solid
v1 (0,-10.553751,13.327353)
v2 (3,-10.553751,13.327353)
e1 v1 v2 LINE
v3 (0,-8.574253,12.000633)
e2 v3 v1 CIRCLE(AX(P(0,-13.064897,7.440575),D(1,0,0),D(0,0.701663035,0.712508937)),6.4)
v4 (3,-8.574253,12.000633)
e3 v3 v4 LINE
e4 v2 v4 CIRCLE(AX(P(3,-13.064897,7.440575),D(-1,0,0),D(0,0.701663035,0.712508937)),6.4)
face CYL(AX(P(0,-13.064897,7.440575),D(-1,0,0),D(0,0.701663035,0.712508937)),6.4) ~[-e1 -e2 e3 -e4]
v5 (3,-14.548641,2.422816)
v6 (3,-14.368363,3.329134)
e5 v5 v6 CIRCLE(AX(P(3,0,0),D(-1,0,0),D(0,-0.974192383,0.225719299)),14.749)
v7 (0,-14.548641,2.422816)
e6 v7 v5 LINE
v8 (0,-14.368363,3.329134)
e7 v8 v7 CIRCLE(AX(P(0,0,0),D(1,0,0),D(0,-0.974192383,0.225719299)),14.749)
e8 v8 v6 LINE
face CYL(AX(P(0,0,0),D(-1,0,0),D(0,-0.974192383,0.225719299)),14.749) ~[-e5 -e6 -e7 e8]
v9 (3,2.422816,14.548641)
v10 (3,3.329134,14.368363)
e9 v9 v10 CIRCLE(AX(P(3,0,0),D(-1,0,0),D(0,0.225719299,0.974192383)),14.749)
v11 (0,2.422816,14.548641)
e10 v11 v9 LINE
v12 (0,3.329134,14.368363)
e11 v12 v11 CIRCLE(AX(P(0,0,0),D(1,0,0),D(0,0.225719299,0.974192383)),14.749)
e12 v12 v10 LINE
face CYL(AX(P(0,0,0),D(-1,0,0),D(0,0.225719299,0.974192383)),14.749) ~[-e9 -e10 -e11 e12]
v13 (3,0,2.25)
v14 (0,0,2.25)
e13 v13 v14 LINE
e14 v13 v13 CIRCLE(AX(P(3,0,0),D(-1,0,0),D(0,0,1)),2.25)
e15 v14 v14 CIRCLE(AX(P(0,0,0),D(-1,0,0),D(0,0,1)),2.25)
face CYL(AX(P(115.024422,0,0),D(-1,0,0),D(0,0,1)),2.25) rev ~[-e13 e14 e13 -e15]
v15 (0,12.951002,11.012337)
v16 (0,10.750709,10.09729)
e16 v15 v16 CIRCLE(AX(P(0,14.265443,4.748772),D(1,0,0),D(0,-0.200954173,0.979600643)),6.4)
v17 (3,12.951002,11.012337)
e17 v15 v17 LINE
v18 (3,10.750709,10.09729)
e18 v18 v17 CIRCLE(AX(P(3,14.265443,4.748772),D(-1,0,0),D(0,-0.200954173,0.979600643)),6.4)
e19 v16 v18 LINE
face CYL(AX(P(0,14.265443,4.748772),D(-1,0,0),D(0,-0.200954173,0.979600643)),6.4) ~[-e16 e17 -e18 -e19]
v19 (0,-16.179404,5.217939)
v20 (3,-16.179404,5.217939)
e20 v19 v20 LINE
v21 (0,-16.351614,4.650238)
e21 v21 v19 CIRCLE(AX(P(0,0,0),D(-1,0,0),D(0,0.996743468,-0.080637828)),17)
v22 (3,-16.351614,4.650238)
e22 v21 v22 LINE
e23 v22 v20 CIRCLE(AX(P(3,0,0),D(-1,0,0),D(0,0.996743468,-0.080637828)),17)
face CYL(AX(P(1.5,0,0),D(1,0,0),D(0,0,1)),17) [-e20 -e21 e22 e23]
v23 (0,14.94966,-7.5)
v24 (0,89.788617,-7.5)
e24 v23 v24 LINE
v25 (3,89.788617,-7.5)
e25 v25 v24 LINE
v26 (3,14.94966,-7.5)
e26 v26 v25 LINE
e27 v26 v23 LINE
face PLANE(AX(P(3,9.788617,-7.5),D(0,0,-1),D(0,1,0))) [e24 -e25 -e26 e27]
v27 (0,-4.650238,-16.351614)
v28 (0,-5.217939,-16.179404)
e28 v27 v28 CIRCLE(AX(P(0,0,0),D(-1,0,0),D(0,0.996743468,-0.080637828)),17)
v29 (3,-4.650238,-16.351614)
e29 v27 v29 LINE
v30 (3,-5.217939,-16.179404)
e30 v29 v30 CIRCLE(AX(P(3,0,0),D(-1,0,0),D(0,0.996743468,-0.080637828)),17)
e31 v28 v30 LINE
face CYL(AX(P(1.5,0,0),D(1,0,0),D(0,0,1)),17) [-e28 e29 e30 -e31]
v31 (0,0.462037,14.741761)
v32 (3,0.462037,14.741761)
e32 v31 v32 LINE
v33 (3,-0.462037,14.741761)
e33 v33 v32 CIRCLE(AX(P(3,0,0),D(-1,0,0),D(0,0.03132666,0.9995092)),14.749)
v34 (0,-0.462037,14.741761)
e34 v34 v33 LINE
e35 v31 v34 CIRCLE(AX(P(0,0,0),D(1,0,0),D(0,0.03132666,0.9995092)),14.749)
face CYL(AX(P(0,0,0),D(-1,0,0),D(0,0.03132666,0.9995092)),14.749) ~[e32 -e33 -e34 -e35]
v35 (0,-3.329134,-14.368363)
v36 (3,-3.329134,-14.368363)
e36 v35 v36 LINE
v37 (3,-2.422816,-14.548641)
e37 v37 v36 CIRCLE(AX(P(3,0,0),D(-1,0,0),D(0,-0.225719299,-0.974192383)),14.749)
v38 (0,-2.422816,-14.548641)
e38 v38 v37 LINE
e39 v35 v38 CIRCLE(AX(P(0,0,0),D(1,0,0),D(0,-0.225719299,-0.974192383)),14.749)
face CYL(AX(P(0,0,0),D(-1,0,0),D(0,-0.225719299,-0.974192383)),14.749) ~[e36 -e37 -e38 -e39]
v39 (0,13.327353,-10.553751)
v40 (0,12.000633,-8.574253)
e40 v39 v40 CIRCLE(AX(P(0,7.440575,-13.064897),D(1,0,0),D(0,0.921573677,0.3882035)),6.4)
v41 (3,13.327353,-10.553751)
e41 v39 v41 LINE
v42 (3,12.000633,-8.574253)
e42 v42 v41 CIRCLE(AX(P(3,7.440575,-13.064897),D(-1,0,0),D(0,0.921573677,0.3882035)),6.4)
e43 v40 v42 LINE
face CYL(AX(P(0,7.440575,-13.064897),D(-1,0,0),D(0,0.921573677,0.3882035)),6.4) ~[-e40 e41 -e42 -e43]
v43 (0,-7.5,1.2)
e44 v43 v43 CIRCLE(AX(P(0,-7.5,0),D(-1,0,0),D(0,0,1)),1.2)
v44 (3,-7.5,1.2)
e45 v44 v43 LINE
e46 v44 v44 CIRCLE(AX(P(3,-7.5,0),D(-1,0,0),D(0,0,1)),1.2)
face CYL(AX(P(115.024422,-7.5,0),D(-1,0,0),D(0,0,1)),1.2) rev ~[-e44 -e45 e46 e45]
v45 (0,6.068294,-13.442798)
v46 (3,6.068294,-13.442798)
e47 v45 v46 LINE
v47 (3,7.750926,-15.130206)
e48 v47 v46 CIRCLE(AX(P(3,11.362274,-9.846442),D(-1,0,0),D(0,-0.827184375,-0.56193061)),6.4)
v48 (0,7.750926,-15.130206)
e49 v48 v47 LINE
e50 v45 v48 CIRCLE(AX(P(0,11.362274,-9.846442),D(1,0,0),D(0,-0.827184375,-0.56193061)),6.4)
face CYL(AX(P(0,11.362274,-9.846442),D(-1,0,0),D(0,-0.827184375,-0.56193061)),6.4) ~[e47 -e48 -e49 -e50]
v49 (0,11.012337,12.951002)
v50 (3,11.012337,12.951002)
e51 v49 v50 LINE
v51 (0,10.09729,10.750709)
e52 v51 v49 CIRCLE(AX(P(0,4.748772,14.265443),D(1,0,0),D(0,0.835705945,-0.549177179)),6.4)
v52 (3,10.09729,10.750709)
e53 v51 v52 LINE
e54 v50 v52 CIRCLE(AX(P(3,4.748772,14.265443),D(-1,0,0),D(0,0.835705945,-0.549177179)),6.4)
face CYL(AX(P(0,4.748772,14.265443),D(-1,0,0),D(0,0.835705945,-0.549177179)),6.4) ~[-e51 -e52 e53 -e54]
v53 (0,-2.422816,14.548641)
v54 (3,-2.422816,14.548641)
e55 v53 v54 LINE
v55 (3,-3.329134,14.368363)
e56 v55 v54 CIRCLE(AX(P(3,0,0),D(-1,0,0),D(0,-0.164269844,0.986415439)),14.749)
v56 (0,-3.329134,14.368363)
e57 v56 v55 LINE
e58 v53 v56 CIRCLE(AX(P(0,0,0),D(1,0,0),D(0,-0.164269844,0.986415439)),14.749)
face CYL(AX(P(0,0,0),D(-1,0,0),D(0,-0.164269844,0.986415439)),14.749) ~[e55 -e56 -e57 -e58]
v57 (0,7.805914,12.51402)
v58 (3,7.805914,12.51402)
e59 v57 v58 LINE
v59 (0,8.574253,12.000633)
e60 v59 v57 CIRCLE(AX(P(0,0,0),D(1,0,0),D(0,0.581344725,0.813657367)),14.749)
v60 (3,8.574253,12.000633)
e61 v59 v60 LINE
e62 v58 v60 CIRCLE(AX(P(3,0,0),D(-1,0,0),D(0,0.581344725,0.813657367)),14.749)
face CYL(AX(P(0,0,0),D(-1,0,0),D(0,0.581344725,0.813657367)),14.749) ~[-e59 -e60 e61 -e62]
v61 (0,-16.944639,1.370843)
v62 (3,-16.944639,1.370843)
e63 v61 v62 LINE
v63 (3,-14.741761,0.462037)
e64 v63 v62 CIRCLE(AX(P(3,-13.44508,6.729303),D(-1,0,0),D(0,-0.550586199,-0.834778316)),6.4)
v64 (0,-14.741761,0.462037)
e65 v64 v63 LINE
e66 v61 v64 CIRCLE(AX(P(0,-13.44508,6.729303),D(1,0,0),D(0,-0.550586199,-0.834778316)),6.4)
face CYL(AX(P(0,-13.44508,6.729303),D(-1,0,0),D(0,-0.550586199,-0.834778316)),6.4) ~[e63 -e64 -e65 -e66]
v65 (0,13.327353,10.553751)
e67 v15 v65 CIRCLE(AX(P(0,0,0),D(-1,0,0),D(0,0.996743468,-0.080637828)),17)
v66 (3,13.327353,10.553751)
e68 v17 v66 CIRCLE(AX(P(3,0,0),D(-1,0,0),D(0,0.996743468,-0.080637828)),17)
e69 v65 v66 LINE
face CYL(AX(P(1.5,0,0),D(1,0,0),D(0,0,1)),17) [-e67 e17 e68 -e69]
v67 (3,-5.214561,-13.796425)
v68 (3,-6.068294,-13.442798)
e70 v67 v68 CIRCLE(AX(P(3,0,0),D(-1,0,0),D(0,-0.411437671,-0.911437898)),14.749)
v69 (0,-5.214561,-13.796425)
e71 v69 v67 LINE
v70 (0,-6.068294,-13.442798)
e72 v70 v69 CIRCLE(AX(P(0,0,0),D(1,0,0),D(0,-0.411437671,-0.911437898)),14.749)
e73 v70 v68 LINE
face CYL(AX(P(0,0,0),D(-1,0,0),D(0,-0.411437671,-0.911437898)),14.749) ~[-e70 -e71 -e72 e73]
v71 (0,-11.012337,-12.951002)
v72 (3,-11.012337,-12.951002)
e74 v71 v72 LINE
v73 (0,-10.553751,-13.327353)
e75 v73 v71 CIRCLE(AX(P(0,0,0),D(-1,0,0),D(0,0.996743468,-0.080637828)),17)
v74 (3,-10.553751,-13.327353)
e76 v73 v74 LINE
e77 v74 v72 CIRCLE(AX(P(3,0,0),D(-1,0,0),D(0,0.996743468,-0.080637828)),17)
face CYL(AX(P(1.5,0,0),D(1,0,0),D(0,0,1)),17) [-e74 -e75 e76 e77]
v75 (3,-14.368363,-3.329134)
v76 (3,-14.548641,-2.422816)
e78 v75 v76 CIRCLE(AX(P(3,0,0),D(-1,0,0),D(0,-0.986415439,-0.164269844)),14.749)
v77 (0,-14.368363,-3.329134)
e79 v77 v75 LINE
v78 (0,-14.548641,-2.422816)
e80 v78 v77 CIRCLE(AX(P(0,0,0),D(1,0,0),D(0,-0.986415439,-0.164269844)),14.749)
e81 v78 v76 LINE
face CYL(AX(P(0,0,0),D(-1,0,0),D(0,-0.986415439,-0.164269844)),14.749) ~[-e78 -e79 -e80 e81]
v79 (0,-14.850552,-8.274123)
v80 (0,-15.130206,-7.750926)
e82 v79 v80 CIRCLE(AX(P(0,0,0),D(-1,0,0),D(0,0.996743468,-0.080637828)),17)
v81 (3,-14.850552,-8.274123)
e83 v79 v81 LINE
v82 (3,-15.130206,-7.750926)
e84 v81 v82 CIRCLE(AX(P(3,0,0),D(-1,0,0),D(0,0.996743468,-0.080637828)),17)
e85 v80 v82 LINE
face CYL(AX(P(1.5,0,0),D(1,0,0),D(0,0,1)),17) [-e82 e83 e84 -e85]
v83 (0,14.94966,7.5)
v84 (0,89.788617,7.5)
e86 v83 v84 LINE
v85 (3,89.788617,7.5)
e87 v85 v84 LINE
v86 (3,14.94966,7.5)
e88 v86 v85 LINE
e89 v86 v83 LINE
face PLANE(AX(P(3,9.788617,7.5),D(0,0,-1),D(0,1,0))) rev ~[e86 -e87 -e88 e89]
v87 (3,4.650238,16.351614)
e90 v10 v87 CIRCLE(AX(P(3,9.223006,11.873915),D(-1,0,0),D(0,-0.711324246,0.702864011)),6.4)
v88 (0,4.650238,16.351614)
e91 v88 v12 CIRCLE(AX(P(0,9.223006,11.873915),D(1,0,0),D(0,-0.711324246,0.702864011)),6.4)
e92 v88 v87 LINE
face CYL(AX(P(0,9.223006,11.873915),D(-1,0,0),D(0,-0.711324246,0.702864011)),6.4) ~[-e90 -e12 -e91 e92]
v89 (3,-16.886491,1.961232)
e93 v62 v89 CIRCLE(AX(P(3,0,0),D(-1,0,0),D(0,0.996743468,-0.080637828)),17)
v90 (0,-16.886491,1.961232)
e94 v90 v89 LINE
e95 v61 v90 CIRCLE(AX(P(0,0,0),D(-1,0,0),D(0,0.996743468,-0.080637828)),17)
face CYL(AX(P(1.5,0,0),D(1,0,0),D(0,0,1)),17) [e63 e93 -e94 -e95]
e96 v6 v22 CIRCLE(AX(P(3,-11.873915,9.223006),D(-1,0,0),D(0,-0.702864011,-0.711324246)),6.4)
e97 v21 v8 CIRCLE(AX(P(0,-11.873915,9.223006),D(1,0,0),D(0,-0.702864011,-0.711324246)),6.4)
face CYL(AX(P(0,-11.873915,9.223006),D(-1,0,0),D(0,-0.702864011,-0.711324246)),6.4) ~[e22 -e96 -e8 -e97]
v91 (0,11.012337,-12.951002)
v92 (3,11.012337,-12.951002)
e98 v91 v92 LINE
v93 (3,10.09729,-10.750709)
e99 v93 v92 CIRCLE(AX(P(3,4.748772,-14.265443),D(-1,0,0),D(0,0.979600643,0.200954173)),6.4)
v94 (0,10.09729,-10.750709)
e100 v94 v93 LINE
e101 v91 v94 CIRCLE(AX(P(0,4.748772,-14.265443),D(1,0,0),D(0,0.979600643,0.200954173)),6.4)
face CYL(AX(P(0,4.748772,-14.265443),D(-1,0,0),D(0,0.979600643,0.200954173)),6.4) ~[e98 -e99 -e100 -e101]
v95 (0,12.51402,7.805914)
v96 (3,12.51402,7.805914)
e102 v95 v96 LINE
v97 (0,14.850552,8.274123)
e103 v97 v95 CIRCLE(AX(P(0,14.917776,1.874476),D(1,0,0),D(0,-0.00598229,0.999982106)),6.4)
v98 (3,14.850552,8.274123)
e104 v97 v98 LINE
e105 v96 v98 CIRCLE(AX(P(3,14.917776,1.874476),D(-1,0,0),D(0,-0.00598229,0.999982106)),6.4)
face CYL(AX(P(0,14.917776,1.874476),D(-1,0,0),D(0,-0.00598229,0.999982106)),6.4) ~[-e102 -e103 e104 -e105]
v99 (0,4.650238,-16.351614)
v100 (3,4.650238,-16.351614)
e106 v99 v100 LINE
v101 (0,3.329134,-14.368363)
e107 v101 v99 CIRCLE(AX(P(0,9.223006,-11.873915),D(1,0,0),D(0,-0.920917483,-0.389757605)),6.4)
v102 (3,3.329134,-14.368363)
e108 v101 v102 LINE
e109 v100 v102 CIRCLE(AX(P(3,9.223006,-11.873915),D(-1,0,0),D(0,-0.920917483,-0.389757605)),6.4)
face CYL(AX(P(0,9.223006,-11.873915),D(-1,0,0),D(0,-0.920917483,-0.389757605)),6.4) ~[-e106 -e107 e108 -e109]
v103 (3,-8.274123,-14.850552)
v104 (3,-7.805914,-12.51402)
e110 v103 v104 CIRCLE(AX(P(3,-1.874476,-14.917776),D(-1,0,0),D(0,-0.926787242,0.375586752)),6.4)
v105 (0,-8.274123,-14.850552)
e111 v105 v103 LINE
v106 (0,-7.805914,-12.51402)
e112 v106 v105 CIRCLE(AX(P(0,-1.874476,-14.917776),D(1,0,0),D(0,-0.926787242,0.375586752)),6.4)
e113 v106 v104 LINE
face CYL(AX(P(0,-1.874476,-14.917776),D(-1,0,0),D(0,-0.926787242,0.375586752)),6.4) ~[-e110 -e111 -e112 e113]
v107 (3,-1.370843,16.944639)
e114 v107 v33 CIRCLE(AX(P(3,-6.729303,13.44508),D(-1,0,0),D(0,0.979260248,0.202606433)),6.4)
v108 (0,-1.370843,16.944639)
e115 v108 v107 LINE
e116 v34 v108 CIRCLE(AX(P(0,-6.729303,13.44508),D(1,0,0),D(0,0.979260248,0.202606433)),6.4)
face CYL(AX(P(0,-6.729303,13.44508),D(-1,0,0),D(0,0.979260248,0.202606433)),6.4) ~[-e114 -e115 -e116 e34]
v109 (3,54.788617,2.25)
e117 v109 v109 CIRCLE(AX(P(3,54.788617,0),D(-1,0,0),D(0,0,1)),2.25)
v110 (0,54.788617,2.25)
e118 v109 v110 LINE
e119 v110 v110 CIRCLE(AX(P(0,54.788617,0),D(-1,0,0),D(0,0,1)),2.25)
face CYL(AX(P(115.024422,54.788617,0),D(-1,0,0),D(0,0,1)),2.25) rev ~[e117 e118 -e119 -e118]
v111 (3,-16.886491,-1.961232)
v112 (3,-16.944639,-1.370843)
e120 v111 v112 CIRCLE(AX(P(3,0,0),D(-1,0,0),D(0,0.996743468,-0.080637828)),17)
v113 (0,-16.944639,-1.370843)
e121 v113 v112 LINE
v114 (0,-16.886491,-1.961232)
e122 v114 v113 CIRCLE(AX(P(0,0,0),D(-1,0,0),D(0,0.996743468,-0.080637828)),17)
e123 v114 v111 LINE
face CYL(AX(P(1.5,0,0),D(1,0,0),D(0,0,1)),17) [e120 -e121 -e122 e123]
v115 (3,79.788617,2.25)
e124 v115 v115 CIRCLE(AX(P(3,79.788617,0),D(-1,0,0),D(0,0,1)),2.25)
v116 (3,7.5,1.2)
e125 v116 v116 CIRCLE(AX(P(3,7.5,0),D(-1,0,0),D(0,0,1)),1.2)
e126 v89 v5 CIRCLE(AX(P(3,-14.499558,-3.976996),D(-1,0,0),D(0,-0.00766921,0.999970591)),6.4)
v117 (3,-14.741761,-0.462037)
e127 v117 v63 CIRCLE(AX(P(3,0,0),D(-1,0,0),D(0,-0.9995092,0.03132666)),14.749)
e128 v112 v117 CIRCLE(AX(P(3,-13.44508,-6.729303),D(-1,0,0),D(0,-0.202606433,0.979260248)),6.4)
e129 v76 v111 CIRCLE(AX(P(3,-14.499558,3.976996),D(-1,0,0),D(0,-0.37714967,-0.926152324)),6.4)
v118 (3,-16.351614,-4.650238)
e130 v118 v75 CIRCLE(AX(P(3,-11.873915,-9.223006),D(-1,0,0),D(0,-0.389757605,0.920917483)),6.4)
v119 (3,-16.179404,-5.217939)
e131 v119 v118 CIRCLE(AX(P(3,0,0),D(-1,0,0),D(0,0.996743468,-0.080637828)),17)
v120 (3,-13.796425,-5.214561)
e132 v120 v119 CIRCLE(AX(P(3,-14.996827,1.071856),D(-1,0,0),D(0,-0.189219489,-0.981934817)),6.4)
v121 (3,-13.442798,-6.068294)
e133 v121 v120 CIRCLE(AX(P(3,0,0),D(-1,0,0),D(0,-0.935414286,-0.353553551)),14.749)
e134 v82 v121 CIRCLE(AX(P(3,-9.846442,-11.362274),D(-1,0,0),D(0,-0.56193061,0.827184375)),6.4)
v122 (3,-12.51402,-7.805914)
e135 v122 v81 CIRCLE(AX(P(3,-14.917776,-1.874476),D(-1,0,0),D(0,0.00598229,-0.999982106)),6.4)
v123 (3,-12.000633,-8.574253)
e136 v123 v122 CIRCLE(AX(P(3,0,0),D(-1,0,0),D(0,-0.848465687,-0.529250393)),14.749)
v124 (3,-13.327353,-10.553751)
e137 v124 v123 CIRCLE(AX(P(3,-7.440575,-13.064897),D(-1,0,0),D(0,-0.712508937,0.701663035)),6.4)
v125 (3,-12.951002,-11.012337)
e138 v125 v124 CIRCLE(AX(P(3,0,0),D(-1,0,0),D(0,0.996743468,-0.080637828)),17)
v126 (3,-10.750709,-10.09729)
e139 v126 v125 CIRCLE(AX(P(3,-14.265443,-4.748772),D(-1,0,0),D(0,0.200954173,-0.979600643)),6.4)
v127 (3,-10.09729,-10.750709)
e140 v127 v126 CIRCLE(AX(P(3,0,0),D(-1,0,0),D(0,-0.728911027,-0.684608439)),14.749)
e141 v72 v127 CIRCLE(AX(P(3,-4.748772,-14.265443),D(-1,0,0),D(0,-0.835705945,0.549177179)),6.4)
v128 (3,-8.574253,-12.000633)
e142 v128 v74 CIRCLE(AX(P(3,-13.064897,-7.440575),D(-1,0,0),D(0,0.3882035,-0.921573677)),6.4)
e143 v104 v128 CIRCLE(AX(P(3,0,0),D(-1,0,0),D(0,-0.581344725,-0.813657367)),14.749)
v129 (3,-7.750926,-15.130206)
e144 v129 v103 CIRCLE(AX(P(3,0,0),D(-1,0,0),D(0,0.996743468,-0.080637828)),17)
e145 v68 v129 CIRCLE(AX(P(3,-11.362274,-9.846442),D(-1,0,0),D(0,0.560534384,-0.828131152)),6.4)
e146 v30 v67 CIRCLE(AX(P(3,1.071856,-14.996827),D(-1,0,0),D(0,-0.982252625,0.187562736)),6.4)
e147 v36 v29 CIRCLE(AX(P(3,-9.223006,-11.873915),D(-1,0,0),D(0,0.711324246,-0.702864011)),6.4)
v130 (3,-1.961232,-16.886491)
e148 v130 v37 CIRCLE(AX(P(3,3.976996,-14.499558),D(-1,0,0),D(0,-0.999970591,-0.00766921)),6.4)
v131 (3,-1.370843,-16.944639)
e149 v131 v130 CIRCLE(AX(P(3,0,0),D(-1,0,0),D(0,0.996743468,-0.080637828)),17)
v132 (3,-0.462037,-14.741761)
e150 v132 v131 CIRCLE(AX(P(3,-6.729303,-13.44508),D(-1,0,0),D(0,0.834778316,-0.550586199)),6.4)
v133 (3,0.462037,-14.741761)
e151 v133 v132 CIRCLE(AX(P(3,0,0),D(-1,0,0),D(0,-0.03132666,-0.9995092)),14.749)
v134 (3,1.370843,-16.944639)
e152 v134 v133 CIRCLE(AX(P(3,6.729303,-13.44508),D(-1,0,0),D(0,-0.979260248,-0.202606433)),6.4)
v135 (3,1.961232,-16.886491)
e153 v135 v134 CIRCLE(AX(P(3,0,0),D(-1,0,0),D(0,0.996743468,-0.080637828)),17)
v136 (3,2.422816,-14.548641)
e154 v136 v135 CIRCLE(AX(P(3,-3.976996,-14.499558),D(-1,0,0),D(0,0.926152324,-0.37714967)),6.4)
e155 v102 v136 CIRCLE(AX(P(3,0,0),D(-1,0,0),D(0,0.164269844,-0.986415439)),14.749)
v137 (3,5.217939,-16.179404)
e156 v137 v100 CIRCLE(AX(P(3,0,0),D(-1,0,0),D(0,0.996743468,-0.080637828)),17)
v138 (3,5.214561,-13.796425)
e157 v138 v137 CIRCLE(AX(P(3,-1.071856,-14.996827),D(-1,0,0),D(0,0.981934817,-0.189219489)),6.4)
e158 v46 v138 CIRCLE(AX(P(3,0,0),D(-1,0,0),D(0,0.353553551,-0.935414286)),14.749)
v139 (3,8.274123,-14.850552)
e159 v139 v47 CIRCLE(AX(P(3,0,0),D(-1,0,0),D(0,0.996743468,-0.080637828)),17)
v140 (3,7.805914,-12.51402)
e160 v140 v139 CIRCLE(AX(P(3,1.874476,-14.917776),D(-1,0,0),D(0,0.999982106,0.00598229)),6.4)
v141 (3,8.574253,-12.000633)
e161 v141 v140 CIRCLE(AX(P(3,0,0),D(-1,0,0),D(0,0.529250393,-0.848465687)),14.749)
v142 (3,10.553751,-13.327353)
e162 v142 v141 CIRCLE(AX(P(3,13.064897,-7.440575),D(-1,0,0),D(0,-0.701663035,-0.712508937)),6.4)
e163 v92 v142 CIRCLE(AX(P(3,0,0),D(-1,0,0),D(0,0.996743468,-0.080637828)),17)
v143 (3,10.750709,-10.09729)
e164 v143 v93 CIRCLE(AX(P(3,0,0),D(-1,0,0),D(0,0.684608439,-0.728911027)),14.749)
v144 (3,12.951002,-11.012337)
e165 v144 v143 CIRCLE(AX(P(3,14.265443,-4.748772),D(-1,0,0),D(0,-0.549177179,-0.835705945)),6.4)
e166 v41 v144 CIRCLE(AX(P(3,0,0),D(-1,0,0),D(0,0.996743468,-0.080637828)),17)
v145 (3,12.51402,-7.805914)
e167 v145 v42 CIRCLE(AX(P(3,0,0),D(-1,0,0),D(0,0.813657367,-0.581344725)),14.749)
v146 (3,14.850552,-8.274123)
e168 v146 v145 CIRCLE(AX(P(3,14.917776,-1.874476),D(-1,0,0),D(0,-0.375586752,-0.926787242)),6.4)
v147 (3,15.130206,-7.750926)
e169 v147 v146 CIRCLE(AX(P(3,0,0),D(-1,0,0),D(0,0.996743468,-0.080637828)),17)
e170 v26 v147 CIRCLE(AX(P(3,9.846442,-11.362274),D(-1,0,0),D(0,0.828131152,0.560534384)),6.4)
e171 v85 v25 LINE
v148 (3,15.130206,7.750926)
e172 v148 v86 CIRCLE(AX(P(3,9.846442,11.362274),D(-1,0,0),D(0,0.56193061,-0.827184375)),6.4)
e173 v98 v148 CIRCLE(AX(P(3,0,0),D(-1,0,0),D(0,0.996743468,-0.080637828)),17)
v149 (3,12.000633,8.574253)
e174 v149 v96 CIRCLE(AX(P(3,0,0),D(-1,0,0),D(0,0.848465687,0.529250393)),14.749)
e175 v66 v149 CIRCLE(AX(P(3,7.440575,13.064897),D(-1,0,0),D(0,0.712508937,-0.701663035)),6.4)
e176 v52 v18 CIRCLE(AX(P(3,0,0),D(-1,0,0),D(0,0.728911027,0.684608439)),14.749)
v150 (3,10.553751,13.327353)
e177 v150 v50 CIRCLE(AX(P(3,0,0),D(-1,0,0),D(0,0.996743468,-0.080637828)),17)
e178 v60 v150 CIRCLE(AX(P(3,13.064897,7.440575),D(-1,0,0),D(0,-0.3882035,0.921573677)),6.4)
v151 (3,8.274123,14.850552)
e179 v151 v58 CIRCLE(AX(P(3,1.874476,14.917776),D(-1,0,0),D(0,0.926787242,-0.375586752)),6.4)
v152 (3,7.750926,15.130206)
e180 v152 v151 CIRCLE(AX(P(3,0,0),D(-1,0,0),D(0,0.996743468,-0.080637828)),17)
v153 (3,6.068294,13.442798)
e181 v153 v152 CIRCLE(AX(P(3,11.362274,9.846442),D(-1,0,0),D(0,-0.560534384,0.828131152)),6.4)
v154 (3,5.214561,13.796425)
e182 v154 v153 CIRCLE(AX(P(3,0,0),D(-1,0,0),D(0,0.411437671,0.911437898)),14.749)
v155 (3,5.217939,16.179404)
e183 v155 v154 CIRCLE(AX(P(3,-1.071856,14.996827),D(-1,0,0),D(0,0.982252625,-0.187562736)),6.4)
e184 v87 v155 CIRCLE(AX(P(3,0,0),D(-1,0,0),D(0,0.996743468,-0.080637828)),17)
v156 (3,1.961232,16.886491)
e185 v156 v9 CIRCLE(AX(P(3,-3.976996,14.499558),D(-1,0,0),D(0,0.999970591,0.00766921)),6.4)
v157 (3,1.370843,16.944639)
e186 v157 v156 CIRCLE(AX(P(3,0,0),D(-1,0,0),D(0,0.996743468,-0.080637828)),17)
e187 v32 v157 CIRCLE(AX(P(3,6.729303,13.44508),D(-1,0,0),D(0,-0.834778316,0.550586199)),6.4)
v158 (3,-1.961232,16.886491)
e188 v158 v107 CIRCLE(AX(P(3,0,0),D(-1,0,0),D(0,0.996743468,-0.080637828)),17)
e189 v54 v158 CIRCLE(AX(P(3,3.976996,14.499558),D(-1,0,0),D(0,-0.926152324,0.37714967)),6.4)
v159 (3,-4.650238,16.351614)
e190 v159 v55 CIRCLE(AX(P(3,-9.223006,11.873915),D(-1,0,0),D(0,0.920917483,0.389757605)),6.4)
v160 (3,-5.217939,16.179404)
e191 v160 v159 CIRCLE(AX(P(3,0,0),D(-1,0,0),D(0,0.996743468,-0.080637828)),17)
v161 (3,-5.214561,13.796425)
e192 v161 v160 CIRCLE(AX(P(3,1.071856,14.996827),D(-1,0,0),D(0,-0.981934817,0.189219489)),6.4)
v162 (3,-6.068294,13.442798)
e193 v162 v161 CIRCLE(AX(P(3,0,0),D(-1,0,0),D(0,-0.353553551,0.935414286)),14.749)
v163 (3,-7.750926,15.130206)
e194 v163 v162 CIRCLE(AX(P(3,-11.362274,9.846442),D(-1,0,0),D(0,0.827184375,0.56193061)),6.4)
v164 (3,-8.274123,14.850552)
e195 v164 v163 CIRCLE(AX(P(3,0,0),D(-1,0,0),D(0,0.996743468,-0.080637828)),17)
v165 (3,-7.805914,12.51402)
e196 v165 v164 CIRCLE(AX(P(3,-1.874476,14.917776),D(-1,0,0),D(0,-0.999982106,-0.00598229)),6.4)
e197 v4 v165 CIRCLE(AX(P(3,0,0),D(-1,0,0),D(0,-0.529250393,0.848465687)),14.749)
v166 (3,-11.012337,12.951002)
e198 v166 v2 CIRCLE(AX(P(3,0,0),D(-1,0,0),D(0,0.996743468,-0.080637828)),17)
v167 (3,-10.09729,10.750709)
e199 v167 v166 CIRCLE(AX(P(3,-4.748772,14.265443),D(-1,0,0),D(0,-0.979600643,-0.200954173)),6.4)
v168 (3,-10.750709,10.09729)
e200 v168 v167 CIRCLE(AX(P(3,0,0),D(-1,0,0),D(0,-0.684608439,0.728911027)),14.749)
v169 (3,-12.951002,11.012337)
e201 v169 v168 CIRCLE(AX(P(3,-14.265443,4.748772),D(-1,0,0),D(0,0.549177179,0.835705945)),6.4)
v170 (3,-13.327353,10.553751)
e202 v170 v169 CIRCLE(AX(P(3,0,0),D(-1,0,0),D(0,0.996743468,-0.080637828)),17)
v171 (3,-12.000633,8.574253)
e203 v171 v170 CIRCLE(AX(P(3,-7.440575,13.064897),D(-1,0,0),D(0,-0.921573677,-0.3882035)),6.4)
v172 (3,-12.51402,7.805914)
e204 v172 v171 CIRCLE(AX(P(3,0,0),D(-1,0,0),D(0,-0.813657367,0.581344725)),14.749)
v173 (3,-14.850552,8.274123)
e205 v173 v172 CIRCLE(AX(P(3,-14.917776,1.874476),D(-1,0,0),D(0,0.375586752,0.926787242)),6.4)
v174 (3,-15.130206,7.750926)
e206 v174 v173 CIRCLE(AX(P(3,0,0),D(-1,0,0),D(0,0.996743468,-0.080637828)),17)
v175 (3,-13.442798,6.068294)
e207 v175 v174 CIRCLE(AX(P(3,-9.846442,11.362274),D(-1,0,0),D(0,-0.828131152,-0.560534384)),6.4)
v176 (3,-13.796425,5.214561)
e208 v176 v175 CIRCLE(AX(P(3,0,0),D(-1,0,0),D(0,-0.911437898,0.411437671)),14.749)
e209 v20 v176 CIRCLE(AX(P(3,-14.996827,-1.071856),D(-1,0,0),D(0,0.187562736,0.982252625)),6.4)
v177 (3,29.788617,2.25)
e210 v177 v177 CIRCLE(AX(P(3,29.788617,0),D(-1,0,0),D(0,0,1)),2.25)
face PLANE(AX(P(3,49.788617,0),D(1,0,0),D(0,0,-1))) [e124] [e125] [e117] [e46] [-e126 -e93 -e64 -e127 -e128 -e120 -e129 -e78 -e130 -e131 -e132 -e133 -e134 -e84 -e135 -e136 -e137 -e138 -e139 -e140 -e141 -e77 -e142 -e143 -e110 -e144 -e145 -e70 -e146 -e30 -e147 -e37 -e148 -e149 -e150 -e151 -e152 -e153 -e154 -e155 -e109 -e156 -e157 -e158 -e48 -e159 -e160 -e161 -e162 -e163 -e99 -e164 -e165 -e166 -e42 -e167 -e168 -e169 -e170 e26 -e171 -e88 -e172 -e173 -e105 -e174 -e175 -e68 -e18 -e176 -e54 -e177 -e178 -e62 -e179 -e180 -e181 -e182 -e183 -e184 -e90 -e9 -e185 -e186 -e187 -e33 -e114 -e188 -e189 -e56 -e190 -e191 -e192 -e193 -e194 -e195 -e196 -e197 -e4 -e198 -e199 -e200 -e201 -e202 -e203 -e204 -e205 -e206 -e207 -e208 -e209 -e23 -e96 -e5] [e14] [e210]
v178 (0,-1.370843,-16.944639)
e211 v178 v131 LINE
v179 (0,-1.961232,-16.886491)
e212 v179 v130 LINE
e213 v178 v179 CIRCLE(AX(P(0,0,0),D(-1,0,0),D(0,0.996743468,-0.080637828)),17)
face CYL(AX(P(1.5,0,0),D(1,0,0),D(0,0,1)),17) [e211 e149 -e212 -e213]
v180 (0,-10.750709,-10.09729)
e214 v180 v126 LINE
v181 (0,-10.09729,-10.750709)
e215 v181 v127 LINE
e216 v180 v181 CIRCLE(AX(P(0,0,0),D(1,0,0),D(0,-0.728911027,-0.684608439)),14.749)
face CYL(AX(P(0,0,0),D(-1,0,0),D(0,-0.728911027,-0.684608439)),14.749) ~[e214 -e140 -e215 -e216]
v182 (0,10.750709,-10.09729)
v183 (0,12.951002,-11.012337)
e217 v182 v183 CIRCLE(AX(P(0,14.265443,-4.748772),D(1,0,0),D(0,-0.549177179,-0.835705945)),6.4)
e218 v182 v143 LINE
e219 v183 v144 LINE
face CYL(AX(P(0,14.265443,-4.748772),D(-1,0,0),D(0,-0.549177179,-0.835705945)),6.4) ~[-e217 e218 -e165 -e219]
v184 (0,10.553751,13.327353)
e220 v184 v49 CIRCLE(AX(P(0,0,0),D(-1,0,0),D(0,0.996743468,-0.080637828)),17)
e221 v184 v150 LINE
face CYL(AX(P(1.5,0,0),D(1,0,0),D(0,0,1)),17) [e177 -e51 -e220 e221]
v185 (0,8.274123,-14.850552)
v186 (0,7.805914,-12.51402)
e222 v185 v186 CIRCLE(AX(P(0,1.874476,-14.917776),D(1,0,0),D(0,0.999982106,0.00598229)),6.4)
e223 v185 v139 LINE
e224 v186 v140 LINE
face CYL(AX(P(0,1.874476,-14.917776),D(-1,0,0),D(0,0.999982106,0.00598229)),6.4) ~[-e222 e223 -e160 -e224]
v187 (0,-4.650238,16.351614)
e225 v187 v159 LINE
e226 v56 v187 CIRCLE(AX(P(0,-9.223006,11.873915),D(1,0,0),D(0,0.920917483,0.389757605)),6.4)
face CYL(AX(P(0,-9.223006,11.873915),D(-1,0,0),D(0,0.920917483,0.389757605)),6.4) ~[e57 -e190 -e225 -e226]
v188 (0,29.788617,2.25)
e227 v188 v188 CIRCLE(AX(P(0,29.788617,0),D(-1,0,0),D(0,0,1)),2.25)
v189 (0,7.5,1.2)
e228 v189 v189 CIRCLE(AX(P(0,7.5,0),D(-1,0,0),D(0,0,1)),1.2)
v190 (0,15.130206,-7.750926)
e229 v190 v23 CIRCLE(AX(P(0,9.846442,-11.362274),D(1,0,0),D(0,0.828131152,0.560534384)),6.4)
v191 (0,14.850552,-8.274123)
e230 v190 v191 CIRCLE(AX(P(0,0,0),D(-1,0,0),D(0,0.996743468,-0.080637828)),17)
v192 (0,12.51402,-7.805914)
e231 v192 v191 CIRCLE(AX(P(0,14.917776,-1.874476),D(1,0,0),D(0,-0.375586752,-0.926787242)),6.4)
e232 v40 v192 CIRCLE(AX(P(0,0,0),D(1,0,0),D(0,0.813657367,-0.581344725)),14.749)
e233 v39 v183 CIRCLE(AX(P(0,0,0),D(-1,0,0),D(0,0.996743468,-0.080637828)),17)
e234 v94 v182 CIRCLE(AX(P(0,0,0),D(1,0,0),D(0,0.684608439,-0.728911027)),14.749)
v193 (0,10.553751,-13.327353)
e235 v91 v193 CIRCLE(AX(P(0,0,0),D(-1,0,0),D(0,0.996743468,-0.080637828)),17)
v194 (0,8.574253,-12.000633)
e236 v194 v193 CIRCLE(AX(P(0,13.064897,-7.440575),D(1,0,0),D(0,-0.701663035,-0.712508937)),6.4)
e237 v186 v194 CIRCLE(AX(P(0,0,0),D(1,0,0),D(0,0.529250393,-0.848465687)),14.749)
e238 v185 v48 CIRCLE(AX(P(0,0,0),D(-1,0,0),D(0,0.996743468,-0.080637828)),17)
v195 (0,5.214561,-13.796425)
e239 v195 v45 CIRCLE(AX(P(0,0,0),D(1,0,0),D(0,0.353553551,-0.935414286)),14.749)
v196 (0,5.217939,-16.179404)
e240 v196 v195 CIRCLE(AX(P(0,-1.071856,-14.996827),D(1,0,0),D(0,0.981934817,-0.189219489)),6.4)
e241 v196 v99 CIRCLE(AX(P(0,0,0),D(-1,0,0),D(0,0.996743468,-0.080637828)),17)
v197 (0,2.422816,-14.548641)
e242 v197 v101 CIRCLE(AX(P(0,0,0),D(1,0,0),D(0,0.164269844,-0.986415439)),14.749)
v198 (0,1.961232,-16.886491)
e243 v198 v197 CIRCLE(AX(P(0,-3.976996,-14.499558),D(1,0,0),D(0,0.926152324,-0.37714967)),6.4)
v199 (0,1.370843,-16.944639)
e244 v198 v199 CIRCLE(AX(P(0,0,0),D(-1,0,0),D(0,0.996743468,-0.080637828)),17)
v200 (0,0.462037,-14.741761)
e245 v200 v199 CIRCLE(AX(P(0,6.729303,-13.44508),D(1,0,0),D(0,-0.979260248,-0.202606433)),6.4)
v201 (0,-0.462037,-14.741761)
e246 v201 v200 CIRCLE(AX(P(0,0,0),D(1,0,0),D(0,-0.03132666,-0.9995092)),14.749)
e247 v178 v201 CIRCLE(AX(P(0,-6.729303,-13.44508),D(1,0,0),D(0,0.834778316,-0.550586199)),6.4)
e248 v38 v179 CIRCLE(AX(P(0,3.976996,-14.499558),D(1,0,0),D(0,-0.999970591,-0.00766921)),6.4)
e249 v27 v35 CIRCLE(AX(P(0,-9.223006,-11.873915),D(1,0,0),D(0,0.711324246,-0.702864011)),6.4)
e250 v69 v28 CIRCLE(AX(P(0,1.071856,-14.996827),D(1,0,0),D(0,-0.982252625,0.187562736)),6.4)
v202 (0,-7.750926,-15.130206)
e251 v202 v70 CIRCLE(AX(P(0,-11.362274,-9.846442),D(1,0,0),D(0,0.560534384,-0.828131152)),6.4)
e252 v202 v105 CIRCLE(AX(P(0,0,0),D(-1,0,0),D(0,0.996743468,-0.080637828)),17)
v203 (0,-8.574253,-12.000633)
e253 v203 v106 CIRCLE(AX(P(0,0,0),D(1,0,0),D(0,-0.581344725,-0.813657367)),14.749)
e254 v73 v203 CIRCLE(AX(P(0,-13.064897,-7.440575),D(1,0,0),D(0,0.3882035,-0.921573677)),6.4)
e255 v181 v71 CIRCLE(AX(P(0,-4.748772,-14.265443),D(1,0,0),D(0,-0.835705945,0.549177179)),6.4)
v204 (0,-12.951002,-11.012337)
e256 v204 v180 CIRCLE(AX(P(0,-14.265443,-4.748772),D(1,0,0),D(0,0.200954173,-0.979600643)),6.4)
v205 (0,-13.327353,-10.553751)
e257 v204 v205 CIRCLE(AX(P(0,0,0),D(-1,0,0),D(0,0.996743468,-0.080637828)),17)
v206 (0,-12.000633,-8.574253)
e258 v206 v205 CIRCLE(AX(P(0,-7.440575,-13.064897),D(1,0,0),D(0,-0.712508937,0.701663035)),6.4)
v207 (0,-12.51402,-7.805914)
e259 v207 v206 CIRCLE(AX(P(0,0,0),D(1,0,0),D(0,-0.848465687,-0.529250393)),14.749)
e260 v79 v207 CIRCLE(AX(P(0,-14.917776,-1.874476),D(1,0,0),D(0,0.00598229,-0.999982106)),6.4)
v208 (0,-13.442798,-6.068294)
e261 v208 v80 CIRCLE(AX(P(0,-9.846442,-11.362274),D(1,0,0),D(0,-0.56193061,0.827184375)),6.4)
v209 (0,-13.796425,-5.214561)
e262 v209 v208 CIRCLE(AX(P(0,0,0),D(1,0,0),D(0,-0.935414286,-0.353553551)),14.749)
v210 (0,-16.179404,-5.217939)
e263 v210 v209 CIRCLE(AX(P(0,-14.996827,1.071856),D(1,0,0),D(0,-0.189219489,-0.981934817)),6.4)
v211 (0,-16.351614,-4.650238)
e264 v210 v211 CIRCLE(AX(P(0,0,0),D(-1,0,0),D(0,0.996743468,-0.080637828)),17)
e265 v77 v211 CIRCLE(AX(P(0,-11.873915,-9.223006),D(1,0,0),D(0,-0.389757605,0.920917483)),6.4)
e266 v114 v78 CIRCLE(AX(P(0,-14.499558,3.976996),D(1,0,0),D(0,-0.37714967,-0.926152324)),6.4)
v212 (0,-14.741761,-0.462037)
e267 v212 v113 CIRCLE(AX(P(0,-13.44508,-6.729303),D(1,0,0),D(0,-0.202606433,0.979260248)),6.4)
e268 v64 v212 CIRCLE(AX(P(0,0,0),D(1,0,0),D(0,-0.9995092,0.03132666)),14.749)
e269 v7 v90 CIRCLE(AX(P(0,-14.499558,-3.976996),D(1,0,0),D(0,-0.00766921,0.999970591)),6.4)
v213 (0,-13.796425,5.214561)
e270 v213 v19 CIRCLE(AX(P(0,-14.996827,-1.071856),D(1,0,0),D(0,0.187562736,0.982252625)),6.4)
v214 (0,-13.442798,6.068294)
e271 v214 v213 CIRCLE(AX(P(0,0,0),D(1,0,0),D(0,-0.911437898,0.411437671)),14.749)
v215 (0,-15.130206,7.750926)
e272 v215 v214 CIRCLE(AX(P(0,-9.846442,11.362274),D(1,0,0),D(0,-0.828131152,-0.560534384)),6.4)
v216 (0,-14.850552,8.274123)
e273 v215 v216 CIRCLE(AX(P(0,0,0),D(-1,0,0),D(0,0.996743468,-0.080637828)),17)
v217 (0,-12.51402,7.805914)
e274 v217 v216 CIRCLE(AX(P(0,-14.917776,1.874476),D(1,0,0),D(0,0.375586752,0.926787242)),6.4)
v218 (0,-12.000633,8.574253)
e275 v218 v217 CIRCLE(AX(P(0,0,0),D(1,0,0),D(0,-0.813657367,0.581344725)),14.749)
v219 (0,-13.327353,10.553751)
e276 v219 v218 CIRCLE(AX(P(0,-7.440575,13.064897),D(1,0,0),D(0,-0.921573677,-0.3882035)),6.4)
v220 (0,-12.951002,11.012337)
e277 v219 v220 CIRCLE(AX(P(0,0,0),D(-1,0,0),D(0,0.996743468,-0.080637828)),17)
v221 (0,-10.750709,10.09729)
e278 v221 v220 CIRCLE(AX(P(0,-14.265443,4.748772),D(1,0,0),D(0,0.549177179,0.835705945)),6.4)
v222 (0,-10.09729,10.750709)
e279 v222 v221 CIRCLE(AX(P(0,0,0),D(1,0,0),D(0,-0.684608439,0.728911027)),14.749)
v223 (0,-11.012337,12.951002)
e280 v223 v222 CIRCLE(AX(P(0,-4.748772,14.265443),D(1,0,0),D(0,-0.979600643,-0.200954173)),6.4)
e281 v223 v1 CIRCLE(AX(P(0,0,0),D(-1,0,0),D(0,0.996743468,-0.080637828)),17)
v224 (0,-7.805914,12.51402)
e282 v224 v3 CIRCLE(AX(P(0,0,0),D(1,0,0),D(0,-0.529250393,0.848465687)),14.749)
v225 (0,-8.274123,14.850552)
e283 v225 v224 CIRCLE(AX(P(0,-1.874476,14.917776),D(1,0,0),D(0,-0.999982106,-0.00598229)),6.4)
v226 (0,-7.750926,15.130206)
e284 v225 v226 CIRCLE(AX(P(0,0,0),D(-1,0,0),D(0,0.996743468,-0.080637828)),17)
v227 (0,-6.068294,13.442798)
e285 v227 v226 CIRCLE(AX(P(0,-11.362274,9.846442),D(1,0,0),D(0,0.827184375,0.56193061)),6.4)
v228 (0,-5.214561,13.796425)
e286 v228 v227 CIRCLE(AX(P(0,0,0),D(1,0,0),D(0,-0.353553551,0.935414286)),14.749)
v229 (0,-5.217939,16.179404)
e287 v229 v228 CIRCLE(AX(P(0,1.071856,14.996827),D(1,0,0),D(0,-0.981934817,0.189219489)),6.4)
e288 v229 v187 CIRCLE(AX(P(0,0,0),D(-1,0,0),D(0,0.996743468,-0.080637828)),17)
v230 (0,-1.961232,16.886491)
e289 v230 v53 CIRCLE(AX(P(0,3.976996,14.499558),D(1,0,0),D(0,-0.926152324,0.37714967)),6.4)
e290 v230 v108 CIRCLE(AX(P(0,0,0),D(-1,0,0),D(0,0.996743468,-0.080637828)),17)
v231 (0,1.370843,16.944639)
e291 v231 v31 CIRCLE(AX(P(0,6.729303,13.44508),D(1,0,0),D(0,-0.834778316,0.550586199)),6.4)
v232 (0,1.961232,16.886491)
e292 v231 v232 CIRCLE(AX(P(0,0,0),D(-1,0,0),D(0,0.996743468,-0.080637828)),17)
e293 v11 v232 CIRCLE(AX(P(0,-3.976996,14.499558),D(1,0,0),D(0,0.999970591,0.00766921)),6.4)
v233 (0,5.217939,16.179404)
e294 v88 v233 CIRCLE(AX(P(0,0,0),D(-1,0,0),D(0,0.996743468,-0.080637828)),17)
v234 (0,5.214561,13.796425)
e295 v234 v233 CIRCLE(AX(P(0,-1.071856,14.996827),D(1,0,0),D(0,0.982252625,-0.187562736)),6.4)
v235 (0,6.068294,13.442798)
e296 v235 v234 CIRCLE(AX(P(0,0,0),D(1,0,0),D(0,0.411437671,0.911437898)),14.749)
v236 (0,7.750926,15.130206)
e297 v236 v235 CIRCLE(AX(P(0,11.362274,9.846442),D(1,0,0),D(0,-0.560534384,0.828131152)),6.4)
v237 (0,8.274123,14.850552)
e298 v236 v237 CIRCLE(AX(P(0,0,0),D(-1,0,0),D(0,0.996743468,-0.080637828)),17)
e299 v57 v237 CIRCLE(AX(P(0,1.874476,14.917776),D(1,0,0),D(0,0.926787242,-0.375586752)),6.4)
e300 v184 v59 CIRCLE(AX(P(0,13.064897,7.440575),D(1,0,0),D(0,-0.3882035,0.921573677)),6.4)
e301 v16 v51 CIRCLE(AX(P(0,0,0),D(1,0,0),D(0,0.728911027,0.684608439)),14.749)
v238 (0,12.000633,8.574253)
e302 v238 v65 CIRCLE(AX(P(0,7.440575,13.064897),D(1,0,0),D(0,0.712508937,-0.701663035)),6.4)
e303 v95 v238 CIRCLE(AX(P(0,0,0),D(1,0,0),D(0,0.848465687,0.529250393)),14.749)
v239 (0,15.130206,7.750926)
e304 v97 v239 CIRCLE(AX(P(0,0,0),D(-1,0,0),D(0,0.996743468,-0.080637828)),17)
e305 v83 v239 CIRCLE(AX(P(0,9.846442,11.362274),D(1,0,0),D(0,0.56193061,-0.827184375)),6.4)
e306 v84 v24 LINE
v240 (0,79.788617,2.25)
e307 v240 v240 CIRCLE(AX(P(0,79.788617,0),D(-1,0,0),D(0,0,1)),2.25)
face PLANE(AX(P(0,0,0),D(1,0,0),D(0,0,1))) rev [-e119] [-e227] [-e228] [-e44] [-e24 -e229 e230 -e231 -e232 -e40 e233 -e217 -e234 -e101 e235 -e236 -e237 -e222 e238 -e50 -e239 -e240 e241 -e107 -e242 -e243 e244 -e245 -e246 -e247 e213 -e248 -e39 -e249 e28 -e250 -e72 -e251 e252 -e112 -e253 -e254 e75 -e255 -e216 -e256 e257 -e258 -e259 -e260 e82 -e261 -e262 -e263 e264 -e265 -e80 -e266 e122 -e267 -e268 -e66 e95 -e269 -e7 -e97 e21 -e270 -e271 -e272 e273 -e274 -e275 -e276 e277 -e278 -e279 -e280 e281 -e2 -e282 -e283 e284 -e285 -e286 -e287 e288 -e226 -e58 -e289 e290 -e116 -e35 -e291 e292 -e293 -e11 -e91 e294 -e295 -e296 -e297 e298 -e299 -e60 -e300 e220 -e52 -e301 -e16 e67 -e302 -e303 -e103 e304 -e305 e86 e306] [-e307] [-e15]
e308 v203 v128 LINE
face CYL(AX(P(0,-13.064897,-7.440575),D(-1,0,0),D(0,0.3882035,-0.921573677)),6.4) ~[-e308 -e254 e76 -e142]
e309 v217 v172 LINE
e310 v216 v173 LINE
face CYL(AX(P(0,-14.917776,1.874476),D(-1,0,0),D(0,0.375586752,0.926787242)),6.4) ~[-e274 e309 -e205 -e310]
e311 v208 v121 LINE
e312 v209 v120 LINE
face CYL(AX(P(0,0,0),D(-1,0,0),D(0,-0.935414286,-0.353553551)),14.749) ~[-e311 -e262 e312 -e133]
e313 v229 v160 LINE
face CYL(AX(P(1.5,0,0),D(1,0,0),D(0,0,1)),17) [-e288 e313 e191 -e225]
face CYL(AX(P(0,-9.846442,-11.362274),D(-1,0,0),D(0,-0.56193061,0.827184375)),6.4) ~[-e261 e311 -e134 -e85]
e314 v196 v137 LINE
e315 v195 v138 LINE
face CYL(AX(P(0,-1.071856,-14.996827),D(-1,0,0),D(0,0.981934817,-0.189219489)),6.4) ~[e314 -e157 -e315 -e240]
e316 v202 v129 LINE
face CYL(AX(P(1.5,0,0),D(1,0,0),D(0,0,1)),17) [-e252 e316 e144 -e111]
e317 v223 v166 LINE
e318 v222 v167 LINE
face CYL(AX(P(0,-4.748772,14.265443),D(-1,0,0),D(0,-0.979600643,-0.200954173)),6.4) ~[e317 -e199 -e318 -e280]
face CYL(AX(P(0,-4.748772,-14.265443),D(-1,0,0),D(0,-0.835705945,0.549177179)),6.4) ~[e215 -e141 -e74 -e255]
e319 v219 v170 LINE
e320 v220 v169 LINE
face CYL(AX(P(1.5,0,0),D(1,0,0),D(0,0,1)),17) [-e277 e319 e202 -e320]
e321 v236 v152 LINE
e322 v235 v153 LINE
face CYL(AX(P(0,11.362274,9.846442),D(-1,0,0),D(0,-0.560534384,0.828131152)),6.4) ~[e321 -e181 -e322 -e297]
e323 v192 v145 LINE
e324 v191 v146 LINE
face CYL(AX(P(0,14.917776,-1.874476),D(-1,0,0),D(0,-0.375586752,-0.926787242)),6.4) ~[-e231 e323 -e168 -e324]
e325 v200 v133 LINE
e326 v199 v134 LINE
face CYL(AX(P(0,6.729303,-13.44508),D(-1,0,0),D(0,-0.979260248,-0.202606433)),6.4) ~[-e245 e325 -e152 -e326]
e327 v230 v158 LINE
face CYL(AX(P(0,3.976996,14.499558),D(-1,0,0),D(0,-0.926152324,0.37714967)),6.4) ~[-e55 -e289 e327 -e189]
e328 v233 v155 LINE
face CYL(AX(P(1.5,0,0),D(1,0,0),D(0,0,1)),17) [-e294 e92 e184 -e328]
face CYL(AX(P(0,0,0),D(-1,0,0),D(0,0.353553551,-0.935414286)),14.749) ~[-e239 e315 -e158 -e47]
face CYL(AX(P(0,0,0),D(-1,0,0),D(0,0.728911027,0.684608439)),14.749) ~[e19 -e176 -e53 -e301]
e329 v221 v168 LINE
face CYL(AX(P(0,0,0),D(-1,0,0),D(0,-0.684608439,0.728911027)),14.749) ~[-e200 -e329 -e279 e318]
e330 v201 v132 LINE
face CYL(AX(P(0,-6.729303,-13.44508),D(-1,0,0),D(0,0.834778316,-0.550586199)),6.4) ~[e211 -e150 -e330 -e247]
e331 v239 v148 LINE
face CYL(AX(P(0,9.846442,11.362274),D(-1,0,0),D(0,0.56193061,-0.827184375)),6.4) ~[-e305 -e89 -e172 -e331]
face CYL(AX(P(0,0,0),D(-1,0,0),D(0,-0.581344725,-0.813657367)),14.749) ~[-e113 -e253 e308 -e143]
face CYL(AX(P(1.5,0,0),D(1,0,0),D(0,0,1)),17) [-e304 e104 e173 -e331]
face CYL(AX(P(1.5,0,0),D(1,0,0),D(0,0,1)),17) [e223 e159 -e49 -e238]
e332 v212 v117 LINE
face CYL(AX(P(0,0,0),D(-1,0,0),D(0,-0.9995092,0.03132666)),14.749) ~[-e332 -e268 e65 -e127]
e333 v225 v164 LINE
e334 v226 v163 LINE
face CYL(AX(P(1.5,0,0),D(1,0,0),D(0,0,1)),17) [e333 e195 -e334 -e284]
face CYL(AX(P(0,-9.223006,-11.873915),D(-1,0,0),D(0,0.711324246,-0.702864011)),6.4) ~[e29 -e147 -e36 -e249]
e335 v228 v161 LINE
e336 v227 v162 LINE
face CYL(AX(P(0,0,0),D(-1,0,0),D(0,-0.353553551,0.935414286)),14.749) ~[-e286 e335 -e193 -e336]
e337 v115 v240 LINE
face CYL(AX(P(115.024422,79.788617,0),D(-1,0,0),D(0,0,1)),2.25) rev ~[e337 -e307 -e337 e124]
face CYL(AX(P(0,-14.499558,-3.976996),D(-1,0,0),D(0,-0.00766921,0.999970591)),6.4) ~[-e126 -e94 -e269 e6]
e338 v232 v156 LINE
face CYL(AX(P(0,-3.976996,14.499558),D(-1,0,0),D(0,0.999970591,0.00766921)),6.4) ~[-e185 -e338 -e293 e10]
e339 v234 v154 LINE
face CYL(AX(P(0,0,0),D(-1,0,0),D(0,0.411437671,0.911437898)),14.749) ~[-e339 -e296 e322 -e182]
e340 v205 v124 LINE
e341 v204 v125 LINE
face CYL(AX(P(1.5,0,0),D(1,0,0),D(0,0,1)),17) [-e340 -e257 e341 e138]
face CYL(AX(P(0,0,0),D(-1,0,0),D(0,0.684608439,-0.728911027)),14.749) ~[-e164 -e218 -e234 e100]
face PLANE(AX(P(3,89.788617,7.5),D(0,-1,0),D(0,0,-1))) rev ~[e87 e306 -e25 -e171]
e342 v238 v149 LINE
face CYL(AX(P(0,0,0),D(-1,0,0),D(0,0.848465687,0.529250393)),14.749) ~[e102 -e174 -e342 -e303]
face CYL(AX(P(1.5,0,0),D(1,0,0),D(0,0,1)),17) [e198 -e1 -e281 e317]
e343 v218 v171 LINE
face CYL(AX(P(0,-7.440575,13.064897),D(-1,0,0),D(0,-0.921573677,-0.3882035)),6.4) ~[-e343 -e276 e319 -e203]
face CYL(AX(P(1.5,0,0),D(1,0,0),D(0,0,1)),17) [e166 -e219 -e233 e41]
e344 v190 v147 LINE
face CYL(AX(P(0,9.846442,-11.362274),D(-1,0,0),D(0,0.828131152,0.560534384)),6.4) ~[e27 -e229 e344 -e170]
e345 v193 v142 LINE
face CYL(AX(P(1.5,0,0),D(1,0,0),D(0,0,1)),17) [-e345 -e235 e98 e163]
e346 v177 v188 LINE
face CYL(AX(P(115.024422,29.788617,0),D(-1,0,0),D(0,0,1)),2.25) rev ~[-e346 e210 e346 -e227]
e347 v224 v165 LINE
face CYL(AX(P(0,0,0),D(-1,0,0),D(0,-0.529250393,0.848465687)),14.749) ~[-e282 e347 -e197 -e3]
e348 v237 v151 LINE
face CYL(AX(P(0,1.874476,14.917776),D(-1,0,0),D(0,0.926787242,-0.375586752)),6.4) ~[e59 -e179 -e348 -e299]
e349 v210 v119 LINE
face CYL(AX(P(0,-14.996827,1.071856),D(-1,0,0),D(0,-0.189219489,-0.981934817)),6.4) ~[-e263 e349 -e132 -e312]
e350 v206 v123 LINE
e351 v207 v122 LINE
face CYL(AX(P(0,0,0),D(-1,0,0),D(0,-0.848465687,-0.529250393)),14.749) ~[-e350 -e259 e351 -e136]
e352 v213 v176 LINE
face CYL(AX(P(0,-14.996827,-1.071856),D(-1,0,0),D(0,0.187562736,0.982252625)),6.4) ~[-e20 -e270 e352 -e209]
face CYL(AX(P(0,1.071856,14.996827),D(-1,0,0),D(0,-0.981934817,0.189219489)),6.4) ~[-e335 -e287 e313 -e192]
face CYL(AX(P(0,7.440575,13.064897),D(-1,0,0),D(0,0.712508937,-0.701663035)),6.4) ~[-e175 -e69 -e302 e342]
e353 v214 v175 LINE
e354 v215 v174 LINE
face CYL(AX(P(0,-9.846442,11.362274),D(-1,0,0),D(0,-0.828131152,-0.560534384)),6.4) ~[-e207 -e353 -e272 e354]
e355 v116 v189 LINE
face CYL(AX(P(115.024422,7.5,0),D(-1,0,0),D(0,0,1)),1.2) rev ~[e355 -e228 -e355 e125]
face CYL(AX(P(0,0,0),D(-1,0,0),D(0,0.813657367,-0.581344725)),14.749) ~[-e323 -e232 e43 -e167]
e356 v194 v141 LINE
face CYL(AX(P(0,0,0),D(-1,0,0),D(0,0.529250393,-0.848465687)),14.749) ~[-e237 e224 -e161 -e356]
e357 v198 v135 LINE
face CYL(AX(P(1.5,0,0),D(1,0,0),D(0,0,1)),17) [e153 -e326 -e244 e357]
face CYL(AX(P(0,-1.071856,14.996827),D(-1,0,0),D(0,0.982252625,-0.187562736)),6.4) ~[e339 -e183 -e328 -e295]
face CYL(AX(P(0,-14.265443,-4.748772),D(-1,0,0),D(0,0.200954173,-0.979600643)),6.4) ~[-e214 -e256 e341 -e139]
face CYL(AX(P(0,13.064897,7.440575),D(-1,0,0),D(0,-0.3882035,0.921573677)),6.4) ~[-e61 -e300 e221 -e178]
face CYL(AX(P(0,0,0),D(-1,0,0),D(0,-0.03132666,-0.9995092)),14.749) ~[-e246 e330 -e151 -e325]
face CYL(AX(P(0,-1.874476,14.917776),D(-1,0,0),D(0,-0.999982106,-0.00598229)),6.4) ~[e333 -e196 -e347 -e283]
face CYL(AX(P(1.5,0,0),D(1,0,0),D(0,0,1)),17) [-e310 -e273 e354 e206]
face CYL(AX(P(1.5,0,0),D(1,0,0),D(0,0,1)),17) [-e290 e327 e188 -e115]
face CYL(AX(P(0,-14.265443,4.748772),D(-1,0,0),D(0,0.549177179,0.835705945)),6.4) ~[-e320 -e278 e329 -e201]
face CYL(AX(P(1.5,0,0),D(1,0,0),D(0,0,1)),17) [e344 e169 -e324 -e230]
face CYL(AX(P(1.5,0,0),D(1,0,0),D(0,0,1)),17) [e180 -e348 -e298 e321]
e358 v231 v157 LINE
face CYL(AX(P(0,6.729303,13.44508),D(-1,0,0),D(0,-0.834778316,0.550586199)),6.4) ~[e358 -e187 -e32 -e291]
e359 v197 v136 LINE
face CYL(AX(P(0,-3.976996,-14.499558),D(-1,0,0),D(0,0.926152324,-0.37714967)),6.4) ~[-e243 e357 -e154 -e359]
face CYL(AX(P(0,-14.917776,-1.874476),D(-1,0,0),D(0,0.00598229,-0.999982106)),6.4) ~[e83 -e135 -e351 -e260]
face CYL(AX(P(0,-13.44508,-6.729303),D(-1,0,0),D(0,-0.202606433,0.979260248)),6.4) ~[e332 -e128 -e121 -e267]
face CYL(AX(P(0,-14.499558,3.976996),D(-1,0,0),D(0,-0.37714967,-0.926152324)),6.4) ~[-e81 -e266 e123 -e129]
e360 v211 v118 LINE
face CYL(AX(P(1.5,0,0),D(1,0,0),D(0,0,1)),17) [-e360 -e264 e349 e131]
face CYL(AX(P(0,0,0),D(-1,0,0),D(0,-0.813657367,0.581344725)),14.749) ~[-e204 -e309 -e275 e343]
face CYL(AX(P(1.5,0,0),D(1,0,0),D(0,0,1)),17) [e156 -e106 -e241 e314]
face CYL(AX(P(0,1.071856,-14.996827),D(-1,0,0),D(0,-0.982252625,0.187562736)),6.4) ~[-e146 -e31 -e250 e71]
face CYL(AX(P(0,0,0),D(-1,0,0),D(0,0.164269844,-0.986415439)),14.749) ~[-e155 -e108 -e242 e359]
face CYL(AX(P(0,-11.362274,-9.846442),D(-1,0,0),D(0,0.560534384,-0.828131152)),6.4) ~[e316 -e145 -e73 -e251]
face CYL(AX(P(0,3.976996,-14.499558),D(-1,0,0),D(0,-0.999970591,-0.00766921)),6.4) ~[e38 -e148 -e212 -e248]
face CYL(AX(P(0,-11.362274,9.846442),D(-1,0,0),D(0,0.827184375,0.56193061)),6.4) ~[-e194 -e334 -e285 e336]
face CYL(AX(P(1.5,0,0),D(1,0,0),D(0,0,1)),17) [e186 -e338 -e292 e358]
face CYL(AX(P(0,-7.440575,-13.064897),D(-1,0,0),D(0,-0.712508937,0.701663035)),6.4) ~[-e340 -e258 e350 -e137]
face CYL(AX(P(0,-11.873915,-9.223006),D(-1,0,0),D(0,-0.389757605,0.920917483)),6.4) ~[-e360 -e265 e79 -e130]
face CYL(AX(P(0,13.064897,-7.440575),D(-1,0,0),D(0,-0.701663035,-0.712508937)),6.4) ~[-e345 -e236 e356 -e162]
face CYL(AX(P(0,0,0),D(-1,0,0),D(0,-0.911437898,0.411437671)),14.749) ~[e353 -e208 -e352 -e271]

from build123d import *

# Parameters (mm, degrees)
BASPROSKE_W          = 3
BASPROSKE_H          = 17
TOOTHCUT_DEPTH       = 25.228082879
TEETHCUTS_COUNT      = 32
TEETHCUTS_ANGLE      = 348.75
BORSKE_R             = 2
BORE_DEPTH           = 50.0000508
SKETCH1_W            = 15
SKETCH1_H            = 80
BOSS_EXTRUDE1_DEPTH  = 3
M4_CLEARANCE_HOLE1_D = 4.5
M2_CLEARANCE_HOLE1_D = 2.4


with BuildPart() as part:
    # BasProSke → Base-Revolve (revolve)
    with BuildSketch(Plane(origin=(0, 0, 0), x_dir=(1, 0, 0), z_dir=(0, 1, 0)), mode=Mode.PRIVATE) as base_revolve_sk:
        with Locations((1.5, 8.5)):
            Rectangle(BASPROSKE_W, BASPROSKE_H)
    revolve(base_revolve_sk.sketch.rotate(Axis((-10, 0, 0), (1, 0, 0)), 180), axis=Axis((-10, 0, 0), (1, 0, 0)))

    # TooCutSke → ToothCut (cut, through all)
    with BuildSketch(Plane(origin=(0, 0, 0), x_dir=(0, 0, -1), z_dir=(1, 0, 0))):
        with BuildLine():
            ThreePointArc((0.462036907, 14.741761187), (0, 14.749), (-0.462036907, 14.741761187))
            ThreePointArc((-0.462036907, 14.741761187), (-0.81854142, 15.899240468), (-1.386721275, 16.9688317))
            ThreePointArc((-1.386721275, 16.9688317), (0, 17.0254), (1.386721275, 16.9688317))
            ThreePointArc((1.386721275, 16.9688317), (0.81854142, 15.899240468), (0.462036907, 14.741761187))
        make_face()
    toothcut = extrude(amount=TOOTHCUT_DEPTH, mode=Mode.SUBTRACT)

    # TeethCuts: ToothCut ×32 about axis
    teethcuts_axis = Axis((-10, 0, 0), (1, 0, 0))
    for i in range(1, TEETHCUTS_COUNT):
        add(toothcut.rotate(teethcuts_axis, i * TEETHCUTS_ANGLE / (TEETHCUTS_COUNT - 1)), mode=Mode.SUBTRACT)

    # BorSke → Bore (cut, symmetric)
    with BuildSketch(Plane(origin=(0, 0, 0), x_dir=(0, 0, -1), z_dir=(1, 0, 0))):
        with Locations(Location((0, 0, 0), (0, 0, 180))):
            Circle(BORSKE_R)
    extrude(amount=BORE_DEPTH, both=True, mode=Mode.SUBTRACT)

    # Sketch1 → Boss-Extrude1 (add)
    with BuildSketch(Plane(origin=(3, 0, 0), x_dir=(0, 0, -1), z_dir=(1, 0, 0))):
        with Locations((0, 49.788617333)):
            Rectangle(SKETCH1_W, SKETCH1_H)
    extrude(amount=-BOSS_EXTRUDE1_DEPTH)

    # M4 Clearance Hole1 (through all)
    with Locations(Plane(origin=(3, 0, 0), x_dir=(0, 0, -1), z_dir=(1, 0, 0))):
        with Locations((0, 79.788617333), (0, 29.788617333), (0, 54.788617333), (0, 0)):
            Hole(M4_CLEARANCE_HOLE1_D / 2)

    # M2 Clearance Hole1 (through all)
    with Locations(Plane(origin=(3, 0, 0), x_dir=(0, 0, -1), z_dir=(1, 0, 0))):
        with Locations((0, 7.5), (0, -7.5)):
            Hole(M2_CLEARANCE_HOLE1_D / 2)


solid = part.part
